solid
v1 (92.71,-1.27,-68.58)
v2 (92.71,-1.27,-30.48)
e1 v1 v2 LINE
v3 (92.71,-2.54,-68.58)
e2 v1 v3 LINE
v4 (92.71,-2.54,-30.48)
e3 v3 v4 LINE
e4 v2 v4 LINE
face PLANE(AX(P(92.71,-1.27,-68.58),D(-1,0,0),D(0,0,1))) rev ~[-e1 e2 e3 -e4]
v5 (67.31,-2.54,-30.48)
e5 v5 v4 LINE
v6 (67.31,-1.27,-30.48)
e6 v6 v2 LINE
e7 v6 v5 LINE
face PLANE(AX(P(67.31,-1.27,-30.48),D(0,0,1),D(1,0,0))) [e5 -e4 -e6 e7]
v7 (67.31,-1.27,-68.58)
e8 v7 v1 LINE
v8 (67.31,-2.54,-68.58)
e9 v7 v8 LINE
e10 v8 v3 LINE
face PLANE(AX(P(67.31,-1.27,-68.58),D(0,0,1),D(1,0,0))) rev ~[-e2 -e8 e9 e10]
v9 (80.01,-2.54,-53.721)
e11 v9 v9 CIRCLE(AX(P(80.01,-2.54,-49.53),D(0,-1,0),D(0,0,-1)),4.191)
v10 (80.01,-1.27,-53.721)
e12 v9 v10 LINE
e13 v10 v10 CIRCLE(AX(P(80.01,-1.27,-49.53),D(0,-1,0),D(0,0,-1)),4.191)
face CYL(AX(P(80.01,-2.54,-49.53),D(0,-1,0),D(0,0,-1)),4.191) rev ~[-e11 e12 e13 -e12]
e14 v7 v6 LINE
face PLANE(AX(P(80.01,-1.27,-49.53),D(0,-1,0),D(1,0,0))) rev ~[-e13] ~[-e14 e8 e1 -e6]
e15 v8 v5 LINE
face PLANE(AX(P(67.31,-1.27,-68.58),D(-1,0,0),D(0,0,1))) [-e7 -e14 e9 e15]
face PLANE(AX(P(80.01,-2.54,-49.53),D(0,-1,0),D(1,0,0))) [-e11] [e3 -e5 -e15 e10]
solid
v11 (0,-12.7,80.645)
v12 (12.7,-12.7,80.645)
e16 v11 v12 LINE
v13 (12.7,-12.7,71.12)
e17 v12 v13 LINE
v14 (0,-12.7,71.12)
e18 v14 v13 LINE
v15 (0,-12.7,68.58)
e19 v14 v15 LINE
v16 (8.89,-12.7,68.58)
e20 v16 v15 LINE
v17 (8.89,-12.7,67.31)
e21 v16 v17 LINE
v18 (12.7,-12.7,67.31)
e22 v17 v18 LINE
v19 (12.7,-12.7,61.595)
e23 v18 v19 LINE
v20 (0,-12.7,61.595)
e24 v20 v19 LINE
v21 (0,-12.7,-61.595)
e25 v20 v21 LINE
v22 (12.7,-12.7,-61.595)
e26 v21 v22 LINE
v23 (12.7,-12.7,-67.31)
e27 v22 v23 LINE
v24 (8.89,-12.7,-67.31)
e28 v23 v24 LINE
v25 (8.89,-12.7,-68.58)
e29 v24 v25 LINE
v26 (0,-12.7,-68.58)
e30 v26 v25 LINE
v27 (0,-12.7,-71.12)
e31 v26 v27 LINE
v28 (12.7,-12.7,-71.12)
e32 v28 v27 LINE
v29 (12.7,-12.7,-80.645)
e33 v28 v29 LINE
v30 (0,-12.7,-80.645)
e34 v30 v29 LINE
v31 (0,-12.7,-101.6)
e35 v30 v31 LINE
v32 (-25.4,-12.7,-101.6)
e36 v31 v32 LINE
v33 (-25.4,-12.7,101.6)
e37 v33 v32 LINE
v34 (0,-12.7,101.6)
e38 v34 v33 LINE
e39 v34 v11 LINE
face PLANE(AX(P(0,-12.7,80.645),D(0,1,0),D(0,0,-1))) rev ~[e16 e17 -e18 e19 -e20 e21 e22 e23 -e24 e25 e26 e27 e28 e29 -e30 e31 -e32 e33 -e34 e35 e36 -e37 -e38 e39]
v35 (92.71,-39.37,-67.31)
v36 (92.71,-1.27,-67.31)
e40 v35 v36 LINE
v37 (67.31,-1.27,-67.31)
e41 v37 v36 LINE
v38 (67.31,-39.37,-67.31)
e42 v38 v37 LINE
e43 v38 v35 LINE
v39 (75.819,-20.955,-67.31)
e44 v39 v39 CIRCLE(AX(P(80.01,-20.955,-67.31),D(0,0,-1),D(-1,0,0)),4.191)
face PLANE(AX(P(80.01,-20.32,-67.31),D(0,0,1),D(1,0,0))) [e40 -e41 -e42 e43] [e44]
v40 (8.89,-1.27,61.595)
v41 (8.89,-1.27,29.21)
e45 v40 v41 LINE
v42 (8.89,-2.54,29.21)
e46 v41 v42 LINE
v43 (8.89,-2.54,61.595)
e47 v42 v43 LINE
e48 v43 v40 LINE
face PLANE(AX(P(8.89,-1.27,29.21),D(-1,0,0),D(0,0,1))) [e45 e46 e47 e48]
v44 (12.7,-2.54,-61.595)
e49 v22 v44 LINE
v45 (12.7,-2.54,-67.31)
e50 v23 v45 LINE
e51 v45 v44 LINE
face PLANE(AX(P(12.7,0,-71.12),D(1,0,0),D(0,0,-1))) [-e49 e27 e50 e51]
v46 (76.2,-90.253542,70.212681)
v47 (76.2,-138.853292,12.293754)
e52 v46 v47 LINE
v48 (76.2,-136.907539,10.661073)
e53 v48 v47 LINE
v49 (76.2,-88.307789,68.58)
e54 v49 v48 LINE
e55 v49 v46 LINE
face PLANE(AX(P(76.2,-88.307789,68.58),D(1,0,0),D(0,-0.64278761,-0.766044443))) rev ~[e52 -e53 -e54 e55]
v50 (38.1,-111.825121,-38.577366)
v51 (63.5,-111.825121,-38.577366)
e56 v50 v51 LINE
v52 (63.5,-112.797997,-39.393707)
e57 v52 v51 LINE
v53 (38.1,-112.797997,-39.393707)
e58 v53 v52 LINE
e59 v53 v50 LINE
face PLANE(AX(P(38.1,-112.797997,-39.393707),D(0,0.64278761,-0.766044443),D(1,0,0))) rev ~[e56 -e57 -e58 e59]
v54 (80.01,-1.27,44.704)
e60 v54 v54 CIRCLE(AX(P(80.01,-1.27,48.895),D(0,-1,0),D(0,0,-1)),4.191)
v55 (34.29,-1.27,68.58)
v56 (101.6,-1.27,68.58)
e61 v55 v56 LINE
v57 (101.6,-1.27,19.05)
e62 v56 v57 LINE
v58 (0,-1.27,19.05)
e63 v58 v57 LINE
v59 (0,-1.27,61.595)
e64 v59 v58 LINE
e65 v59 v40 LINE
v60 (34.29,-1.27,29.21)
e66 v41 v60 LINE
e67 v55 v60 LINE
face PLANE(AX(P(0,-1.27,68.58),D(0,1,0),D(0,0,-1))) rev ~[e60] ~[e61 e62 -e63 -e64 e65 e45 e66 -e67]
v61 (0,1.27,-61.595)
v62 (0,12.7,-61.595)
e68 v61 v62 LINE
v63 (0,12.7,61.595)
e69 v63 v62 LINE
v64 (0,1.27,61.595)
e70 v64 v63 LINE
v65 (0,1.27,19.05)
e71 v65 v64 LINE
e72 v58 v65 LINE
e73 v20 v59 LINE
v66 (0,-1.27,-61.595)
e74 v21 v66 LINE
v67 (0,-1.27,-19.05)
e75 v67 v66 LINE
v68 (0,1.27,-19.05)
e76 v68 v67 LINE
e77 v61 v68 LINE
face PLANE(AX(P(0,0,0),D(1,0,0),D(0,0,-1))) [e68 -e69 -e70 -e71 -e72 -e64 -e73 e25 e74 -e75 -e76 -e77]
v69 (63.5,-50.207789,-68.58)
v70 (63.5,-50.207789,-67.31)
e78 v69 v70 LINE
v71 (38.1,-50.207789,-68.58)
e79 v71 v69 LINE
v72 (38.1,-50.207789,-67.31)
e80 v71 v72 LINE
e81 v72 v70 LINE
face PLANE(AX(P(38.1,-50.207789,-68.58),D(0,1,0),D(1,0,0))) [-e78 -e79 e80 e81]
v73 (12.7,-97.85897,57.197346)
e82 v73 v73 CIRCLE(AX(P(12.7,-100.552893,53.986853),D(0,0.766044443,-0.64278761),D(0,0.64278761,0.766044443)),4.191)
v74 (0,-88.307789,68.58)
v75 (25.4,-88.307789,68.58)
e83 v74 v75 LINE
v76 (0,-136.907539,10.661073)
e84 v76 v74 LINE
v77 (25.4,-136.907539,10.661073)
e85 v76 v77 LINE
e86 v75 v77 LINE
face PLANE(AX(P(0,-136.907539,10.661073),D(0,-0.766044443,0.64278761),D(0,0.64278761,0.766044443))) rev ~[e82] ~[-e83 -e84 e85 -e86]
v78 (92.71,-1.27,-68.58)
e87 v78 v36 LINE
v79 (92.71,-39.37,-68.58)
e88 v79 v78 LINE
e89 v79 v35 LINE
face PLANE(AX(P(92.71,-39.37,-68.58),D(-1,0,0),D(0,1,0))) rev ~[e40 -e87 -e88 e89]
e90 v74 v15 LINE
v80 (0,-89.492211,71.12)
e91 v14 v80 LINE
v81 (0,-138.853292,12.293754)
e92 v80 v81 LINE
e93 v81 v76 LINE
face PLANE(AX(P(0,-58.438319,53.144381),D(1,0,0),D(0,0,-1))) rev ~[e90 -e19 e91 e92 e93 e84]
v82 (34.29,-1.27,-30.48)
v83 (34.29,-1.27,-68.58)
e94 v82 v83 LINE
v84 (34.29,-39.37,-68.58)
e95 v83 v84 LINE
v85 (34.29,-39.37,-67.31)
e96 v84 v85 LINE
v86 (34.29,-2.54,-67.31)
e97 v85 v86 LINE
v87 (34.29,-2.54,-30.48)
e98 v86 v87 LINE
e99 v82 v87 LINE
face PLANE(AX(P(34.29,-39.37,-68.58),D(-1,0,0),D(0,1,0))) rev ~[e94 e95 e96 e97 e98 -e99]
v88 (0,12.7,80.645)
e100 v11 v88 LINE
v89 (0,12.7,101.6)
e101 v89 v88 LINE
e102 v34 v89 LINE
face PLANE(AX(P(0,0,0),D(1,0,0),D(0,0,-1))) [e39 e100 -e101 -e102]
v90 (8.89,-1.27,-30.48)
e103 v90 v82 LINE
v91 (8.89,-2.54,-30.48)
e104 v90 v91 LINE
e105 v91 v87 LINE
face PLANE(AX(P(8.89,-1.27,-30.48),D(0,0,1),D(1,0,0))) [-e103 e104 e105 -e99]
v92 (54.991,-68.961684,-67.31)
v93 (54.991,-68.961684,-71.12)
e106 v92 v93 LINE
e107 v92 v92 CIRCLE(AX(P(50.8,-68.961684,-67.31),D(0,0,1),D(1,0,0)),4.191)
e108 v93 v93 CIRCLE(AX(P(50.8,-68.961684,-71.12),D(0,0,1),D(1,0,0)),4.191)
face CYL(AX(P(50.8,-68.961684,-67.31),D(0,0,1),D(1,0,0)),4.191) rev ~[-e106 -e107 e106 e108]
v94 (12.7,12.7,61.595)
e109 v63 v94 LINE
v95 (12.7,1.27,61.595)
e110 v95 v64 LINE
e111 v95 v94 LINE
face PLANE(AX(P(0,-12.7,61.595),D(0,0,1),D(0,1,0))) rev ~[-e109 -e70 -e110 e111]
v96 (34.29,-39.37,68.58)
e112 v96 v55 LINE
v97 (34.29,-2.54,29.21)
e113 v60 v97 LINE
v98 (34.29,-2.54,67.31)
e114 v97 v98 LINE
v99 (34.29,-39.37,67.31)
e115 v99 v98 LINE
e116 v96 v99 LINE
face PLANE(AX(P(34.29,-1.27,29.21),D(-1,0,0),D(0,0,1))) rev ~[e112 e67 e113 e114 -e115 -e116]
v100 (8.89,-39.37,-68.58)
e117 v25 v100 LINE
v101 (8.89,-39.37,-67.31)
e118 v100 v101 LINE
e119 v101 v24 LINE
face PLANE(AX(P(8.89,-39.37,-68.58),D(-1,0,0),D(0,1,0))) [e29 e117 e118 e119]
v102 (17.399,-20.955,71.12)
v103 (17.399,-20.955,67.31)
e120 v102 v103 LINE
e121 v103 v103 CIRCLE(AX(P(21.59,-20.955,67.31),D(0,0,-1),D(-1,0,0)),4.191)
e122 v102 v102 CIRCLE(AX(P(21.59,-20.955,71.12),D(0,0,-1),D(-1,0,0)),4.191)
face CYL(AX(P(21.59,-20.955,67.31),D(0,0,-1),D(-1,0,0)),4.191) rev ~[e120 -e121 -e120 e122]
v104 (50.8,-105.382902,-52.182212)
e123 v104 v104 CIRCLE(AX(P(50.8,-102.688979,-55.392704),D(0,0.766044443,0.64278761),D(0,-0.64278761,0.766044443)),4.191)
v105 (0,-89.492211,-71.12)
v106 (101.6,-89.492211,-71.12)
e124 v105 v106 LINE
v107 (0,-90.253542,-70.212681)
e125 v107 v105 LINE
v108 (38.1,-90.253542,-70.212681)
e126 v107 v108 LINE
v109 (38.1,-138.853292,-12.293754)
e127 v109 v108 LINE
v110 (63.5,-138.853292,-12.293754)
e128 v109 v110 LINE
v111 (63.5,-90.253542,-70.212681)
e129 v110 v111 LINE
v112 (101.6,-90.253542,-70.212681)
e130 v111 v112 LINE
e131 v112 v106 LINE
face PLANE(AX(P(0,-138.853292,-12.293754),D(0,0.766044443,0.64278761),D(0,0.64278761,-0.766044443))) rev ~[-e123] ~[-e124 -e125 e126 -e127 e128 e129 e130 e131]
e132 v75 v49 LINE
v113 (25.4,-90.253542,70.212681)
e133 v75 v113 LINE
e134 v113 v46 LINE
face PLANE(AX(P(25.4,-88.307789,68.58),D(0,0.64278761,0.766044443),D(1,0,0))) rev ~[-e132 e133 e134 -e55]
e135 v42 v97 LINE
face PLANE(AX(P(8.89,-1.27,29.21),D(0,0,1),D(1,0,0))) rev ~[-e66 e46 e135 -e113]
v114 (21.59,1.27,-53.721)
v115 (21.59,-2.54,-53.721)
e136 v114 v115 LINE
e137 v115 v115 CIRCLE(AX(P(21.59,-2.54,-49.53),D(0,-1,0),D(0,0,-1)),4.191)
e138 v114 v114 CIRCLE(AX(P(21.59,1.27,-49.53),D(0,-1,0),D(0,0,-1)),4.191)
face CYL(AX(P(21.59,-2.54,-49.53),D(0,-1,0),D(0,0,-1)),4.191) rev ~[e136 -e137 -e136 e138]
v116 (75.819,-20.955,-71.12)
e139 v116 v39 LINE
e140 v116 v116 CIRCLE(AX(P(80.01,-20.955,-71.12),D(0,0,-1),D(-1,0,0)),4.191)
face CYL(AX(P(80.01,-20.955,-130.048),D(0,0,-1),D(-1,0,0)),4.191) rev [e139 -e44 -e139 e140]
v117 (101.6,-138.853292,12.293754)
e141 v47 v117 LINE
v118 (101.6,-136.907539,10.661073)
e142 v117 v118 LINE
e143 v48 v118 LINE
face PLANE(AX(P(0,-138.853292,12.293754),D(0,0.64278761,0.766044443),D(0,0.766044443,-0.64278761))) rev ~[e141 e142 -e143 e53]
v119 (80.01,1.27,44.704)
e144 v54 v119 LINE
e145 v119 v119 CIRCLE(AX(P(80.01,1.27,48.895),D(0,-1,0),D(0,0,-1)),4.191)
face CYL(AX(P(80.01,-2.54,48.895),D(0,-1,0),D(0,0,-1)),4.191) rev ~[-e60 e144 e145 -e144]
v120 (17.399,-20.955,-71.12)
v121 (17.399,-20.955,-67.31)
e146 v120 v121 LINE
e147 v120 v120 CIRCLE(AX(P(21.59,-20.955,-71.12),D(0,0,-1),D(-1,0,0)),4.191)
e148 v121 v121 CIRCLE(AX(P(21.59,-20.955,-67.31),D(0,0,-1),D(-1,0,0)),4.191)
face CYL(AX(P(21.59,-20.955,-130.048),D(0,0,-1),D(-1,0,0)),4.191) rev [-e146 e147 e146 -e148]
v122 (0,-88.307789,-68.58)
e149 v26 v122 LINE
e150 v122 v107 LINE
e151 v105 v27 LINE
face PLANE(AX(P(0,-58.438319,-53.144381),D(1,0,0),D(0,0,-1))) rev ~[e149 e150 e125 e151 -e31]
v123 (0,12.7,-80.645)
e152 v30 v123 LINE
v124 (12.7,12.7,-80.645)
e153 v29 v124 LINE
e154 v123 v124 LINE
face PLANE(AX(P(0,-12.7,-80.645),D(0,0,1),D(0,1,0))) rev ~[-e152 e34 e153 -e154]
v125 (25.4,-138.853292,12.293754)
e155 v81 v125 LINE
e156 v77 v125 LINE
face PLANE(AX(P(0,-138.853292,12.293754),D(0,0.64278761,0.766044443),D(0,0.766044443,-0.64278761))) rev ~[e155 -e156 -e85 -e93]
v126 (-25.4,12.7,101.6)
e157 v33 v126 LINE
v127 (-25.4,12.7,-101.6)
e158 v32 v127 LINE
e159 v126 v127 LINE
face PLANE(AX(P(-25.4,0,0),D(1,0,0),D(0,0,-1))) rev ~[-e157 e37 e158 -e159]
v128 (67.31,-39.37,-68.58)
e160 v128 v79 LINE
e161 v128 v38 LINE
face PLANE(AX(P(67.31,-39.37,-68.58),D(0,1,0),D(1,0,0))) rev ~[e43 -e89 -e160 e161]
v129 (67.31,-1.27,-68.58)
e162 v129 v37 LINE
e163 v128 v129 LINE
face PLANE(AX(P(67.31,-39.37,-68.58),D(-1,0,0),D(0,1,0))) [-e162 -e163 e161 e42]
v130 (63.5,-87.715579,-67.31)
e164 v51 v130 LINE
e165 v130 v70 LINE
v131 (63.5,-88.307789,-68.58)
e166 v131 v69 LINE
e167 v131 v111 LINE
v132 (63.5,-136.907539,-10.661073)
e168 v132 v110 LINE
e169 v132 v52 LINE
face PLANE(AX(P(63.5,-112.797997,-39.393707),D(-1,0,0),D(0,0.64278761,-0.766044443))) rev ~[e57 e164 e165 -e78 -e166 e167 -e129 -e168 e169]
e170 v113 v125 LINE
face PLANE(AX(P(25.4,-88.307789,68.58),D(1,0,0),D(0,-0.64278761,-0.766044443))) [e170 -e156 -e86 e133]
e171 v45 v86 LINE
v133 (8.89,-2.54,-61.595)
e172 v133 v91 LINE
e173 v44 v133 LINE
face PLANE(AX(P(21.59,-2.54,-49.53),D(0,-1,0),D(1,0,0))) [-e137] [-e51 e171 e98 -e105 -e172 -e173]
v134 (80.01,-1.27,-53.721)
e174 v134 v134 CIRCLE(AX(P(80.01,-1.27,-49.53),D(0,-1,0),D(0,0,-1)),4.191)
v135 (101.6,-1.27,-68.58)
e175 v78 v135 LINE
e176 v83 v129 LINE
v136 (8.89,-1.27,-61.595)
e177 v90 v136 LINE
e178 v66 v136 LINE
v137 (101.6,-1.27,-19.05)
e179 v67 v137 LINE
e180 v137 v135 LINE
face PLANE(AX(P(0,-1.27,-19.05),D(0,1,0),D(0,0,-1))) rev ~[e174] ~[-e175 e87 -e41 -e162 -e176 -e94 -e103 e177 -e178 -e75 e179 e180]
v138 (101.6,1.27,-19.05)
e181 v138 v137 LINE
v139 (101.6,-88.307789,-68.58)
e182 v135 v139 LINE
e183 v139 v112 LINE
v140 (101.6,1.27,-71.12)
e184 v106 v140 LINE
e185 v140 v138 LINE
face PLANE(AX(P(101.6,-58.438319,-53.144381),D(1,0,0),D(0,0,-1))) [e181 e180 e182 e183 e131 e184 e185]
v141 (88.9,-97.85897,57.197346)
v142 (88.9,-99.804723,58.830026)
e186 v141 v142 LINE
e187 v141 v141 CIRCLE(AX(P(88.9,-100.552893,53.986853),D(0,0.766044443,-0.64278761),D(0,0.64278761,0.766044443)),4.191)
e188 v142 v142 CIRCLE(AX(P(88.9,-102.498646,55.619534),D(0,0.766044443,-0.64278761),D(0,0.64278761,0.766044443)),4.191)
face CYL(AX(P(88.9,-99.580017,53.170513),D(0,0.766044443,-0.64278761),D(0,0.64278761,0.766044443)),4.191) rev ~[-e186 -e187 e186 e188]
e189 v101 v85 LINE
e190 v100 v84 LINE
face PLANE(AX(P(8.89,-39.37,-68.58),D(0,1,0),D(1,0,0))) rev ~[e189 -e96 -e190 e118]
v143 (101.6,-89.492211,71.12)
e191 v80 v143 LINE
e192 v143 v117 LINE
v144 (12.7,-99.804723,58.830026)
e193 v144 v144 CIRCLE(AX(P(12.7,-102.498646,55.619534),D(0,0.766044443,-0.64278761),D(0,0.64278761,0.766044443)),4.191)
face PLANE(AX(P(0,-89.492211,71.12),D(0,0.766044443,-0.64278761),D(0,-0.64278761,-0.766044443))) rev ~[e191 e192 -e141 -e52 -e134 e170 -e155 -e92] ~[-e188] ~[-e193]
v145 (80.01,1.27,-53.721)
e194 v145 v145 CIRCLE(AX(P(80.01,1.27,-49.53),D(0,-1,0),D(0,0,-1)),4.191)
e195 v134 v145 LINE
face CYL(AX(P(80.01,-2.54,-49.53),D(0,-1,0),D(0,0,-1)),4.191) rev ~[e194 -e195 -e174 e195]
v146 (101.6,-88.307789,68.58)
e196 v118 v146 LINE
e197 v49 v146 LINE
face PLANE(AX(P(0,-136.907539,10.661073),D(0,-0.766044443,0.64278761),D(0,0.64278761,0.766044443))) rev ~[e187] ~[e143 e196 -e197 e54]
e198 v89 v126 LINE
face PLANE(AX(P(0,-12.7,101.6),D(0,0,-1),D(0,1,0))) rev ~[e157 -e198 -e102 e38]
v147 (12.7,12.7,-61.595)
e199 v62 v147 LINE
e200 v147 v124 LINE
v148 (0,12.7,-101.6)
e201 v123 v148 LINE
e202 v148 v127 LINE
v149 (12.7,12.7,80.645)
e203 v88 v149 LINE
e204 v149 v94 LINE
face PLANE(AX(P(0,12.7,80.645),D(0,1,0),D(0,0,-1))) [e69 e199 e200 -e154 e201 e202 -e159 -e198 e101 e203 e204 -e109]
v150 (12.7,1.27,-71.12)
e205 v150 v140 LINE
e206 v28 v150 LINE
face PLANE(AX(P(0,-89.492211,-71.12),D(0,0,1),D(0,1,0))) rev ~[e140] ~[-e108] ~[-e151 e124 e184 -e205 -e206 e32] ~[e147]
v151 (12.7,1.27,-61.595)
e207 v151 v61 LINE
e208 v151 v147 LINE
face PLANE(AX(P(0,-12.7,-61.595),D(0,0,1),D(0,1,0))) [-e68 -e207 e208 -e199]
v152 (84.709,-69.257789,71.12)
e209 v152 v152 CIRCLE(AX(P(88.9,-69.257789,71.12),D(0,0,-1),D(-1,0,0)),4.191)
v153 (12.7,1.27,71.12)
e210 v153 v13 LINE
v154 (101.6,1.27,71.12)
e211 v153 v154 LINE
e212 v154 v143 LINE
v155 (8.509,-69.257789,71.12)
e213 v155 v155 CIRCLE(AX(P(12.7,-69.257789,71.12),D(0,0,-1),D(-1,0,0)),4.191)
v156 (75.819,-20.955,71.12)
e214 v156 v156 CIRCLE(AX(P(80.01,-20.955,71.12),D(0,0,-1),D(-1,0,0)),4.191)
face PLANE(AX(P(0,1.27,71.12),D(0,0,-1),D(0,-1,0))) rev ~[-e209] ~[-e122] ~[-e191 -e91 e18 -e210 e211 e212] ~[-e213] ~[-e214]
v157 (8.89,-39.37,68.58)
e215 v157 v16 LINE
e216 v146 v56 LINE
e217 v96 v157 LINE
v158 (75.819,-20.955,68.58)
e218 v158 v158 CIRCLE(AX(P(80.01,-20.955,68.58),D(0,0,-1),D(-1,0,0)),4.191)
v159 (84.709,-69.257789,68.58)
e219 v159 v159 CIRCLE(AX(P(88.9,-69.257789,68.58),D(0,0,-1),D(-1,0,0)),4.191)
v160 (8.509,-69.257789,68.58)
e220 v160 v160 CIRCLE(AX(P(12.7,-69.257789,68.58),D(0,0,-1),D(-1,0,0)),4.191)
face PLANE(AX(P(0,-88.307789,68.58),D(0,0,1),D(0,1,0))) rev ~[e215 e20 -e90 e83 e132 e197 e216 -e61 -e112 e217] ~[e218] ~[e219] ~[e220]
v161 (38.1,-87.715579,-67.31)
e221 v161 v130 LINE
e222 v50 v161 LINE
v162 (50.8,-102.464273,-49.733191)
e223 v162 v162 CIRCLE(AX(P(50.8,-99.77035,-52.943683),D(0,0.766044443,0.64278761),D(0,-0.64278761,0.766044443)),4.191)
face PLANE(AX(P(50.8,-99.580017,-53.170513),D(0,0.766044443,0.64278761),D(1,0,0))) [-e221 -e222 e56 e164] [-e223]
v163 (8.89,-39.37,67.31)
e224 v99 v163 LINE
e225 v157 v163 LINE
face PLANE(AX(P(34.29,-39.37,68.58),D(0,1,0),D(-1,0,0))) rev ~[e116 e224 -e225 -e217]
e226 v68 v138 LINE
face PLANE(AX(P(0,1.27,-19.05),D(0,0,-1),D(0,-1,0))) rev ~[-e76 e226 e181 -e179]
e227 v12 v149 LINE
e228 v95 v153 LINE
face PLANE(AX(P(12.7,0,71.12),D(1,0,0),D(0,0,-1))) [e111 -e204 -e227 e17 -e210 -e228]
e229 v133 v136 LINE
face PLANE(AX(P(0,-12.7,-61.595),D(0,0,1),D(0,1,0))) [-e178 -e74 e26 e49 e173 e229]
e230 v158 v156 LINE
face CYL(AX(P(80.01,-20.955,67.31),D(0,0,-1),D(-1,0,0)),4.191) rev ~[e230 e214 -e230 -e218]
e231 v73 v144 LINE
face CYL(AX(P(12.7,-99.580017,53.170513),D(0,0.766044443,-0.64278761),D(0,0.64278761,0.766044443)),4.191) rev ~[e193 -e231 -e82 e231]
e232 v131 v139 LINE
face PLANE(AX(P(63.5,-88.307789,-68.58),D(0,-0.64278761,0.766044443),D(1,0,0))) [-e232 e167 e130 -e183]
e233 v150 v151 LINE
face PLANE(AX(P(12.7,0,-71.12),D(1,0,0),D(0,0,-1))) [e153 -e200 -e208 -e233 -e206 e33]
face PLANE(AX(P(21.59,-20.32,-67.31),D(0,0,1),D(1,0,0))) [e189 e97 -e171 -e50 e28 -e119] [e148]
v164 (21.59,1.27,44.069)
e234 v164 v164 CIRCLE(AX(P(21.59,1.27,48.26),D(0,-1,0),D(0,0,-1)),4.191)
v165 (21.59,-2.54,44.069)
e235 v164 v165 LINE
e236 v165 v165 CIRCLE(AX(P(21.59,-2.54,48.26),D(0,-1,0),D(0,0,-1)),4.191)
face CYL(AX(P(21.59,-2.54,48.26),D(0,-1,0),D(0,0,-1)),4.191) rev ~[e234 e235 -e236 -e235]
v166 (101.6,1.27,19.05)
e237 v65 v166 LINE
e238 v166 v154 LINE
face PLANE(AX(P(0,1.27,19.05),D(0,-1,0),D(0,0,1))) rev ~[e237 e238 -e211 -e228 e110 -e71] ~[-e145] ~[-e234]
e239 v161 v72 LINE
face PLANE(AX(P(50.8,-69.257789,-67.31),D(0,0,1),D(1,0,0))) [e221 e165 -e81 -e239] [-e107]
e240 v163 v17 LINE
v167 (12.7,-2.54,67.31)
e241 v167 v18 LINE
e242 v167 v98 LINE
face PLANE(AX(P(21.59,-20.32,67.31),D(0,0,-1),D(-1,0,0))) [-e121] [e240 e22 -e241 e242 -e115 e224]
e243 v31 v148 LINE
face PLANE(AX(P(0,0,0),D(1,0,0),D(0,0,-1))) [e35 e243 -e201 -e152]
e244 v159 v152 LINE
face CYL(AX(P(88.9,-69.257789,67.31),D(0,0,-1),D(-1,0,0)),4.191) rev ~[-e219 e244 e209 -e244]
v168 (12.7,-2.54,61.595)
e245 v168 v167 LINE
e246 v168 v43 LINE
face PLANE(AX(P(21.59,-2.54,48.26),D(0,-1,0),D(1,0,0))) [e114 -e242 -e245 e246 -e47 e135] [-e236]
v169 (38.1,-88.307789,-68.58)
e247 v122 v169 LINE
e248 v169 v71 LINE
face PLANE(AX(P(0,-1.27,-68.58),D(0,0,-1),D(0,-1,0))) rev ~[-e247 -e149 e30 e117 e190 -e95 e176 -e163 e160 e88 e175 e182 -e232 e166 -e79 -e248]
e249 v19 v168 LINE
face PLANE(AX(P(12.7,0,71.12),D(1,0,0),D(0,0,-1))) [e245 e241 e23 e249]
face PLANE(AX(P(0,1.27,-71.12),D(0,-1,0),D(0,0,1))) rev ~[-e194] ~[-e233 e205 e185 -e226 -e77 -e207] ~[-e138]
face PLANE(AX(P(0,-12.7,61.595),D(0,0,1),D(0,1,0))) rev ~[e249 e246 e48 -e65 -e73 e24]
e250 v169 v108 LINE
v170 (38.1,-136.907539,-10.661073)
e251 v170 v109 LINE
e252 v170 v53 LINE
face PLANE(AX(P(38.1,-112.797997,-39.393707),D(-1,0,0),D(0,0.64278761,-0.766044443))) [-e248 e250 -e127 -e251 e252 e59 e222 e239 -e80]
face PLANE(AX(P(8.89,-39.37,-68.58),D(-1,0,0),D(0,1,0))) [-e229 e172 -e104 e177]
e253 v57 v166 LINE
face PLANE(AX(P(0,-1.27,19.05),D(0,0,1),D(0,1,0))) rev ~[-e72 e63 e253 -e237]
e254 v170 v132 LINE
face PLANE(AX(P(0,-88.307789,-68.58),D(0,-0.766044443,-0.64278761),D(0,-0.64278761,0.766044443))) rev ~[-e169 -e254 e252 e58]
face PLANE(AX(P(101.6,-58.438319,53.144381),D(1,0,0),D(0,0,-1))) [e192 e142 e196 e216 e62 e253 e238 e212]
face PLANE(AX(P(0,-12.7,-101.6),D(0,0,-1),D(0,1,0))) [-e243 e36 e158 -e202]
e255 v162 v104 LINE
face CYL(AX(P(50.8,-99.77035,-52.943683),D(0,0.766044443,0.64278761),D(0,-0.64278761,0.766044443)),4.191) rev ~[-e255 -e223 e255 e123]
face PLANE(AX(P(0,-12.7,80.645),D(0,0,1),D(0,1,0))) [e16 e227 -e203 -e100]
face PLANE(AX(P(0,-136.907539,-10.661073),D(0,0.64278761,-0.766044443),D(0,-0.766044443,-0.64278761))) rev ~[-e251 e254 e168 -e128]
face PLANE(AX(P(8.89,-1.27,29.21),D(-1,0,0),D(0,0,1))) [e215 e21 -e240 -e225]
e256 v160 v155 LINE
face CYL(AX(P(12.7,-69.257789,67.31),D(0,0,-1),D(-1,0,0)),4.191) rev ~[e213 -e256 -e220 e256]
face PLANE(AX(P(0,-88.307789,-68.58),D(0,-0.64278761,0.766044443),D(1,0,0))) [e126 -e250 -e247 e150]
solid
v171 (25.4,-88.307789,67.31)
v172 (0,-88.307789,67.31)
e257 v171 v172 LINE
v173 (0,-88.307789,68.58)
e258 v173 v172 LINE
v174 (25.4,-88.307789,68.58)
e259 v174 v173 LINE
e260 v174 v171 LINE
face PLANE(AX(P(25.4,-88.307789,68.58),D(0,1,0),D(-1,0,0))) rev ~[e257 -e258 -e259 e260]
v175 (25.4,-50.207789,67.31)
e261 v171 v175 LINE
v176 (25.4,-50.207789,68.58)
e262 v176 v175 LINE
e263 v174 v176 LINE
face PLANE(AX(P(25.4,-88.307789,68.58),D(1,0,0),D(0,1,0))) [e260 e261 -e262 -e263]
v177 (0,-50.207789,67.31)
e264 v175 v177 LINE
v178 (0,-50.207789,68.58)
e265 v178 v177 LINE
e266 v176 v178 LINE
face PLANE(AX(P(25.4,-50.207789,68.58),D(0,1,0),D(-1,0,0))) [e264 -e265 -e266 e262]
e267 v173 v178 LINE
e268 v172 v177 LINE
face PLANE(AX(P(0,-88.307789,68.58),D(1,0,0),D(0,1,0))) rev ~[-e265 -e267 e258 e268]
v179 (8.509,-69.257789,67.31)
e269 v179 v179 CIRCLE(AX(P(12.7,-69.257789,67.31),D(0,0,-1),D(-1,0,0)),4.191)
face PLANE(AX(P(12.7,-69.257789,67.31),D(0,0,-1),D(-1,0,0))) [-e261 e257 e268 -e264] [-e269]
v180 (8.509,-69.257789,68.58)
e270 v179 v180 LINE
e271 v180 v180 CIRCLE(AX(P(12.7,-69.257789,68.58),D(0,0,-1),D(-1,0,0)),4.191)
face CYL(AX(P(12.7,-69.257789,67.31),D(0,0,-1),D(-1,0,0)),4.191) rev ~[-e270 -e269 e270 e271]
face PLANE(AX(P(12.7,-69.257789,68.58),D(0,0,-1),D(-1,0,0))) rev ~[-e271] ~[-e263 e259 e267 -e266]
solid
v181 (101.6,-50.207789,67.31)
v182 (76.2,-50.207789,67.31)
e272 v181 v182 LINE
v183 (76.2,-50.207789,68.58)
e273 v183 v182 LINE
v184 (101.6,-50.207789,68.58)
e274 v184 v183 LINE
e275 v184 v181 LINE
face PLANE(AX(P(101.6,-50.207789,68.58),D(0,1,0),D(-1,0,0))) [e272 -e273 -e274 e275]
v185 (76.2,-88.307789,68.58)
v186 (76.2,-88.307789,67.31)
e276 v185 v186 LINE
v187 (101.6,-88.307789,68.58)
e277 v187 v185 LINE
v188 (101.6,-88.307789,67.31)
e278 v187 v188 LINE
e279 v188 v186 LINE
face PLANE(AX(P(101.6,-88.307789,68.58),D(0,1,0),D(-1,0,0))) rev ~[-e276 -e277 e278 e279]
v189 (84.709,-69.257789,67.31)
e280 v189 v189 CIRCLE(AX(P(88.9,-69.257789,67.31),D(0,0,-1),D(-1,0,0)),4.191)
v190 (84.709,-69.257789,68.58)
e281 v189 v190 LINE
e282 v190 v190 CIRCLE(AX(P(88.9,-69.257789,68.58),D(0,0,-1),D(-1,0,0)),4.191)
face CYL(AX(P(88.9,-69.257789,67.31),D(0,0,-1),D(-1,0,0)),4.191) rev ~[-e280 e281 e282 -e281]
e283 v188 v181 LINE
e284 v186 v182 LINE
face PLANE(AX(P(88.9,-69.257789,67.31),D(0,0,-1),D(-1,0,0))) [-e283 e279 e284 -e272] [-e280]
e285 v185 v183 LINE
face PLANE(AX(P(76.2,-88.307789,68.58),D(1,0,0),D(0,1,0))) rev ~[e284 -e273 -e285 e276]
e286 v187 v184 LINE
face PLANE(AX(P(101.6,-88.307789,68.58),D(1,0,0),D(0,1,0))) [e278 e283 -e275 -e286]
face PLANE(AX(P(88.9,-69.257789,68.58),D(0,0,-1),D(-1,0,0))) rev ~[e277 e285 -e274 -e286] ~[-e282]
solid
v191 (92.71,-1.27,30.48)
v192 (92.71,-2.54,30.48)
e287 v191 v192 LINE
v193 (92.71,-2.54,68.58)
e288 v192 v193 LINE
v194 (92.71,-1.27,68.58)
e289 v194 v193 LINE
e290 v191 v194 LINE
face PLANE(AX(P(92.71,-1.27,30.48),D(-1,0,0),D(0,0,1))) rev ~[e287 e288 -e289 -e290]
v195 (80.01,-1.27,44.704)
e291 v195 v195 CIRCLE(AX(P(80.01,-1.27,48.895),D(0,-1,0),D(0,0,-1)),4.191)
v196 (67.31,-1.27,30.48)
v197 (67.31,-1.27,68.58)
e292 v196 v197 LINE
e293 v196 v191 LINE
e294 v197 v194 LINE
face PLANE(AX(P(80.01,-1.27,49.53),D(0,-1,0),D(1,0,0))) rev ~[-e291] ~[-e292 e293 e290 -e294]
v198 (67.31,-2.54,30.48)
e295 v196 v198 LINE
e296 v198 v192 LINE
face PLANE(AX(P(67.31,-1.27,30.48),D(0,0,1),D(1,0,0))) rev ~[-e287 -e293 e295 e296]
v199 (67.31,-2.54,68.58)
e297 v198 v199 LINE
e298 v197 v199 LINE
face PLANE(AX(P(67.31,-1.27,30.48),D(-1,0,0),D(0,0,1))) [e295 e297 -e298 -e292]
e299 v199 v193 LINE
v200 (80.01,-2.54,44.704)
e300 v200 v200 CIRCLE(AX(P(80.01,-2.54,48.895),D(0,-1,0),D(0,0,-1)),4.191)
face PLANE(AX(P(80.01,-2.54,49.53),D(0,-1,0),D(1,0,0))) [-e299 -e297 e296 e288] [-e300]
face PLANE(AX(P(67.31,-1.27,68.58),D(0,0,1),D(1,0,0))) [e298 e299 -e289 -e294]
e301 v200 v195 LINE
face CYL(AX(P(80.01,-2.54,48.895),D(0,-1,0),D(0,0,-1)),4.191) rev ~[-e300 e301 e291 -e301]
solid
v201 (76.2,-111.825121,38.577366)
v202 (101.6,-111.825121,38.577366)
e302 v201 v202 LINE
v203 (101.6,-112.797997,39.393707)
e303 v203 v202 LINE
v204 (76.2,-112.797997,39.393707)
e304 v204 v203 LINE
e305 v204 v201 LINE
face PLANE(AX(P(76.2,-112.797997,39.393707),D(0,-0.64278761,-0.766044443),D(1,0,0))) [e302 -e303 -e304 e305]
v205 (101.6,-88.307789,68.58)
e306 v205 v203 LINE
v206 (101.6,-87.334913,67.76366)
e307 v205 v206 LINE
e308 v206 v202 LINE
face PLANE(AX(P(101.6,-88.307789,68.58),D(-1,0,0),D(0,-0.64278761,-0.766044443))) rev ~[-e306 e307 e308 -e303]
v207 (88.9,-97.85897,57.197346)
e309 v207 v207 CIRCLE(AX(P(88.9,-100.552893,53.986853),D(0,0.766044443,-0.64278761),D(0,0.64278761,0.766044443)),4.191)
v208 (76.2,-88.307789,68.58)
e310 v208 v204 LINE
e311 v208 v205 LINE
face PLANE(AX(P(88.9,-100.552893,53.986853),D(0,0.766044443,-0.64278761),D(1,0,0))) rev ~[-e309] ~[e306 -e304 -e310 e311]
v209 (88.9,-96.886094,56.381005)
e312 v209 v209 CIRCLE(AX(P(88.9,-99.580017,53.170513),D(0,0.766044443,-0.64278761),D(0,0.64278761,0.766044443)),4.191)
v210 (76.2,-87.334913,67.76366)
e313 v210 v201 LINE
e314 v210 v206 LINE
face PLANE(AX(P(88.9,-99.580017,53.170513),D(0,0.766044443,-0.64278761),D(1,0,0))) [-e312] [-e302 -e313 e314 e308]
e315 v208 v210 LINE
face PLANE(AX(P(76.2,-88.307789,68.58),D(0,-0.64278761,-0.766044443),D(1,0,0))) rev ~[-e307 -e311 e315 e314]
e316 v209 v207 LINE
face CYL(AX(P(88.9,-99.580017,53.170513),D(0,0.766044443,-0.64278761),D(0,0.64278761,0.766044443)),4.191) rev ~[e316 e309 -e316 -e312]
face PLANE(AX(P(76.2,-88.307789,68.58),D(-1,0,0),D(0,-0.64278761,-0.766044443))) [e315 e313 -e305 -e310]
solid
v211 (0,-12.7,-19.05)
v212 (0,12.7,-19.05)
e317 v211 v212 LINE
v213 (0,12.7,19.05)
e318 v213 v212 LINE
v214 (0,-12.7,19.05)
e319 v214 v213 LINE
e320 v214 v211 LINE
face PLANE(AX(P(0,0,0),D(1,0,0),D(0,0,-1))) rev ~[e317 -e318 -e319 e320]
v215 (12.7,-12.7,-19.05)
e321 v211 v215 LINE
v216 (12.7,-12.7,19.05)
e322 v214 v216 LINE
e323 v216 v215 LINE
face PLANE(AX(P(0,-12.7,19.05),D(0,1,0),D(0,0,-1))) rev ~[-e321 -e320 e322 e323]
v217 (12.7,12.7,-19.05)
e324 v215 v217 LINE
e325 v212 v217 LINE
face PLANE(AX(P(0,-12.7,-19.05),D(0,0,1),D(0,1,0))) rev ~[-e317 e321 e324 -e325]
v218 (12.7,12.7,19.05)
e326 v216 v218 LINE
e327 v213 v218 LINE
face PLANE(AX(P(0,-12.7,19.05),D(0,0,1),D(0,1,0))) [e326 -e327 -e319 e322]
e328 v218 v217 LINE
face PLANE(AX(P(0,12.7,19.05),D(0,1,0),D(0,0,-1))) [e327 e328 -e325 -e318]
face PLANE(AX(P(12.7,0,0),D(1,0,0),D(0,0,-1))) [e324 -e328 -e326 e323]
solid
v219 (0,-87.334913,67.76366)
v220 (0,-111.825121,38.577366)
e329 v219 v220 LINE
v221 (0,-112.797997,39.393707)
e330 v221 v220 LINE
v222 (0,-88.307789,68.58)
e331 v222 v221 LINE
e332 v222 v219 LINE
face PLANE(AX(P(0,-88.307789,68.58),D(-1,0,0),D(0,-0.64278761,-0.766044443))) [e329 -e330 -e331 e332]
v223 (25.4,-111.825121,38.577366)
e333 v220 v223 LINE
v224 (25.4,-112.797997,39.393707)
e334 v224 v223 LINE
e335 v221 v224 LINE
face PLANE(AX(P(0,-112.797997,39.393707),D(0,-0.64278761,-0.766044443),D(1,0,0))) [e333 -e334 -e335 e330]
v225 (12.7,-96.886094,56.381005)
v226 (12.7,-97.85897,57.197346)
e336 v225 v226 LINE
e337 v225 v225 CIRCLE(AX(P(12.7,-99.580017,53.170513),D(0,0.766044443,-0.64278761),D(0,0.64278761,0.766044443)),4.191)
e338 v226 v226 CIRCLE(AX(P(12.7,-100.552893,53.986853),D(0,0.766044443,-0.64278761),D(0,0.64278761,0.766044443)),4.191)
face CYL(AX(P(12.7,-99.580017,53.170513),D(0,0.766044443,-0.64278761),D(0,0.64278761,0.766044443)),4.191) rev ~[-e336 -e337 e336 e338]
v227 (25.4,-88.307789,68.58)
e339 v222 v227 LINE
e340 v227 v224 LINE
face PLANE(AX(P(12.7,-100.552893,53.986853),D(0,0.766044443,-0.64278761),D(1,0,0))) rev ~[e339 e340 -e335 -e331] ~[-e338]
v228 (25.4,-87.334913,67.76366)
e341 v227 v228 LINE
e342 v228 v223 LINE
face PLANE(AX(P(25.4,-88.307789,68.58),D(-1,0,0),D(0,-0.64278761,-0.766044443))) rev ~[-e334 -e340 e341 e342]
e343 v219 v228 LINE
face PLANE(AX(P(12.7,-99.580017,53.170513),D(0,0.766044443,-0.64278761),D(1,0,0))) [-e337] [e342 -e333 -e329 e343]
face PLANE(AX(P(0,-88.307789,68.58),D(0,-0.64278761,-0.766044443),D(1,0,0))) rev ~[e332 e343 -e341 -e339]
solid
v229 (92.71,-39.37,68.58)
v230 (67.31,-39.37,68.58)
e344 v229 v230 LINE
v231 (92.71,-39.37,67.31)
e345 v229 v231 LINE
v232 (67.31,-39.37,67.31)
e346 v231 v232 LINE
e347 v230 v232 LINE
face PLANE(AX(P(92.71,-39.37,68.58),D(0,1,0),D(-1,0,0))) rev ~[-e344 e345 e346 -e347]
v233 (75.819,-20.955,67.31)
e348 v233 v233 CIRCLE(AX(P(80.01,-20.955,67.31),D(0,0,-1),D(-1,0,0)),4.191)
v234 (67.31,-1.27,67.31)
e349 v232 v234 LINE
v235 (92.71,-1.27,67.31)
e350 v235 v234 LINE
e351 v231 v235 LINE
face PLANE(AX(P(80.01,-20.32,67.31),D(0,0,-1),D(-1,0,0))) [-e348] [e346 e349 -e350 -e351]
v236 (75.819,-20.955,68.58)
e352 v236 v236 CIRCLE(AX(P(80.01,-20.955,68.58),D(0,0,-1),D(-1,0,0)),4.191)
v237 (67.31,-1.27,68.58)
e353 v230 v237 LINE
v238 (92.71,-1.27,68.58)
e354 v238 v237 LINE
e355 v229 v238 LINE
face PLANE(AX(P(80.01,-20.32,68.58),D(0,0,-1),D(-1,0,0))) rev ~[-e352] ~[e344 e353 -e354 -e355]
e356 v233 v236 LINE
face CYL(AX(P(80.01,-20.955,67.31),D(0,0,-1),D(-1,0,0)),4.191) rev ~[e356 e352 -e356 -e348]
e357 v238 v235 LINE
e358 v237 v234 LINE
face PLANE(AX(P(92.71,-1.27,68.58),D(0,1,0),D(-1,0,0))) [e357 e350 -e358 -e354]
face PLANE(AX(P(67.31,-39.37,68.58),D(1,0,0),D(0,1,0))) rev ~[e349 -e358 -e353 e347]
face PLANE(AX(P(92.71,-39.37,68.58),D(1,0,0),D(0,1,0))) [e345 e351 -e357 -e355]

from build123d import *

# Parameters (mm, degrees)
EXTRUDE_THIN1_DEPTH   = 101.6
EXTRUDE_THIN1_2_DEPTH = 101.6
SKETCH6_W             = 38.1
SKETCH6_H             = 75.607789274
CUT_EXTRUDE2_DEPTH    = 11.684
SKETCH7_W             = 50.8
SKETCH7_H             = 75.607789274
CUT_EXTRUDE3_DEPTH    = 11.684
SKETCH8_W             = 25.4
SKETCH8_H             = 38.1
BOSS_EXTRUDE1_DEPTH   = 1.27
BOSS_EXTRUDE1_2_DEPTH = 1.27
BOSS_EXTRUDE1_3_DEPTH = 1.27
BOSS_EXTRUDE1_4_DEPTH = 1.27
SKETCH10_W            = 25.4
SKETCH10_H            = 38.1
BOSS_EXTRUDE2_DEPTH   = 1.27
BOSS_EXTRUDE2_2_DEPTH = 1.27
SKETCH12_W            = 25.4
SKETCH12_H            = 38.1
BOSS_EXTRUDE3_DEPTH   = 1.27
SKETCH13_W            = 25.4
SKETCH13_H            = 38.1
BOSS_EXTRUDE4_DEPTH   = 1.27
SKETCH14_W            = 25.4
SKETCH14_H            = 38.1
BOSS_EXTRUDE5_DEPTH   = 1.27
BOSS_EXTRUDE5_2_DEPTH = 1.27
BOSS_EXTRUDE5_3_DEPTH = 1.27
BOSS_EXTRUDE5_4_DEPTH = 1.27
SKETCH18_R            = 4.191
CUT_EXTRUDE4_DEPTH    = 34.798
CUT_EXTRUDE5_START    = -201.168
SKETCH20_R            = 4.191
CUT_EXTRUDE5_DEPTH    = 201.168
SKETCH23_R            = 4.191
CUT_EXTRUDE6_DEPTH    = 201.168
SKETCH24_R            = 4.191
CUT_EXTRUDE7_DEPTH    = 201.168
SKETCH25_R            = 4.191
CUT_EXTRUDE8_DEPTH    = 201.168
SKETCH26_R            = 4.191
CUT_EXTRUDE9_DEPTH    = 201.168
SKETCH27_W            = 203.2
SKETCH27_H            = 25.4
BOSS_EXTRUDE6_DEPTH   = 25.4
SKETCH28_W            = 38.1
SKETCH28_H            = 25.4
BOSS_EXTRUDE7_DEPTH   = 12.7
SKETCH29_W            = 19.05
SKETCH29_H            = 25.4
BOSS_EXTRUDE8_DEPTH   = 12.7


with BuildPart() as part:
    # Sketch2 → Extrude-Thin1 (new body)
    with BuildSketch(Plane(origin=(0, 0, 0), x_dir=(0, 0, -1), z_dir=(1, 0, 0))):
        Polygon((-19.05, 1.27), (-71.12, 1.27), (-71.12, -89.492210726), (-12.293753699, -138.853292301), (-10.66107317, -136.907539415), (-68.58, -88.307789274), (-68.58, -1.27), (-19.05, -1.27), align=None)
    extrude(amount=EXTRUDE_THIN1_DEPTH)

    # Sketch7 → Cut-Extrude3 (cut)
    with BuildSketch(Plane(origin=(0, -85.590195828, 71.818701752), x_dir=(1, 0, 0), z_dir=(0, 0.7660444431189803, -0.6427876096865368))):
        with Locations((50.8, 42.031719512)):
            Rectangle(SKETCH7_W, SKETCH7_H)
    extrude(amount=-CUT_EXTRUDE3_DEPTH, mode=Mode.SUBTRACT)


with BuildPart() as body_2:
    # Sketch2 → Extrude-Thin1 2 (new body)
    with BuildSketch(Plane(origin=(0, 0, 0), x_dir=(0, 0, -1), z_dir=(1, 0, 0))):
        Polygon((19.05, -1.27), (68.58, -1.27), (68.58, -88.307789274), (10.66107317, -136.907539415), (12.293753699, -138.853292301), (71.12, -89.492210726), (71.12, 1.27), (19.05, 1.27), align=None)
    extrude(amount=EXTRUDE_THIN1_2_DEPTH)

    # Sketch6 → Cut-Extrude2 (cut)
    with BuildSketch(Plane(origin=(0, -85.590195828, -71.818701752), x_dir=(1, 0, 0), z_dir=(0, 0.7660444431189795, 0.6427876096865376))):
        with Locations((82.55, -42.031719512)):
            Rectangle(SKETCH6_W, SKETCH6_H)
        with Locations((19.05, -42.031719512)):
            Rectangle(SKETCH6_W, SKETCH6_H)
    extrude(amount=-CUT_EXTRUDE2_DEPTH, mode=Mode.SUBTRACT)



with BuildPart() as body_3:
    # Sketch8 → Boss-Extrude1 (new body)
    with BuildSketch(Plane(origin=(0, 0, 68.58), x_dir=(-1, 0, 0), z_dir=(0, 0, -1))):
        with Locations((-88.9, -69.257789274)):
            Rectangle(SKETCH8_W, SKETCH8_H)
    extrude(amount=BOSS_EXTRUDE1_DEPTH)


with BuildPart() as body_4:
    # Sketch8 → Boss-Extrude1 2 (new body)
    with BuildSketch(Plane(origin=(0, 0, 68.58), x_dir=(-1, 0, 0), z_dir=(0, 0, -1))):
        with Locations((-12.7, -69.257789274)):
            Rectangle(SKETCH8_W, SKETCH8_H)
    extrude(amount=BOSS_EXTRUDE1_2_DEPTH)


with BuildPart() as body_5:
    # Sketch8 → Boss-Extrude1 3 (new body)
    with BuildSketch(Plane(origin=(0, 0, 68.58), x_dir=(-1, 0, 0), z_dir=(0, 0, -1))):
        with Locations((-80.01, -20.32)):
            Rectangle(SKETCH8_W, SKETCH8_H)
    extrude(amount=BOSS_EXTRUDE1_3_DEPTH)


with BuildPart() as body_6:
    # Sketch8 → Boss-Extrude1 4 (new body)
    with BuildSketch(Plane(origin=(0, 0, 68.58), x_dir=(-1, 0, 0), z_dir=(0, 0, -1))):
        with Locations((-21.59, -20.32)):
            Rectangle(SKETCH8_W, SKETCH8_H)
    extrude(amount=BOSS_EXTRUDE1_4_DEPTH)


with BuildPart() as body_7:
    # Sketch10 → Boss-Extrude2 (new body)
    with BuildSketch(Plane(origin=(0, -85.590195828, 71.818701752), x_dir=(1, 0, 0), z_dir=(0, 0.7660444431189803, -0.6427876096865368))):
        with Locations((88.9, 23.277824875)):
            Rectangle(SKETCH10_W, SKETCH10_H)
    extrude(amount=BOSS_EXTRUDE2_DEPTH)


with BuildPart() as body_8:
    # Sketch10 → Boss-Extrude2 2 (new body)
    with BuildSketch(Plane(origin=(0, -85.590195828, 71.818701752), x_dir=(1, 0, 0), z_dir=(0, 0.7660444431189803, -0.6427876096865368))):
        with Locations((12.7, 23.277824875)):
            Rectangle(SKETCH10_W, SKETCH10_H)
    extrude(amount=BOSS_EXTRUDE2_2_DEPTH)


with BuildPart() as body_9:
    # Sketch12 → Boss-Extrude3 (new body)
    with BuildSketch(Plane(origin=(0, -85.590195828, -71.818701752), x_dir=(1, 0, 0), z_dir=(0, 0.7660444431189795, 0.6427876096865376))):
        with Locations((50.8, -23.277824875)):
            Rectangle(SKETCH12_W, SKETCH12_H)
    extrude(amount=BOSS_EXTRUDE3_DEPTH)


with BuildPart() as body_2_1:
    add(body_2.part)

    add(body_9.part)  # Boss-Extrude4 merges body 9
    # Sketch13 → Boss-Extrude4 (add)
    with BuildSketch(Plane.XY.offset(-68.58)):
        with Locations((50.8, -69.257789274)):
            Rectangle(SKETCH13_W, SKETCH13_H)
        with Locations((80.01, -20.32)):
            Rectangle(SKETCH13_W, SKETCH13_H)
        with Locations((21.59, -20.32)):
            Rectangle(SKETCH13_W, SKETCH13_H)
    extrude(amount=BOSS_EXTRUDE4_DEPTH)

    # Sketch20 → Cut-Extrude5 (cut)
    with BuildSketch(Plane.XY.offset(71.12).offset(CUT_EXTRUDE5_START)):
        with Locations(Location((21.59, -20.955, 0), (0, 0, 180))):
            Circle(SKETCH20_R)
        with Locations(Location((80.01, -20.955, 0), (0, 0, 180))):
            Circle(SKETCH20_R)
    extrude(amount=CUT_EXTRUDE5_DEPTH, mode=Mode.SUBTRACT)


with BuildPart() as body_9_2:
    # Sketch14 → Boss-Extrude5 (new body)
    with BuildSketch(Plane.XZ.offset(1.27)):
        with Locations((21.59, 48.26)):
            Rectangle(SKETCH14_W, SKETCH14_H)
    extrude(amount=BOSS_EXTRUDE5_DEPTH)


with BuildPart() as body_10:
    # Sketch14 → Boss-Extrude5 2 (new body)
    with BuildSketch(Plane.XZ.offset(1.27)):
        with Locations((80.01, 49.53)):
            Rectangle(SKETCH14_W, SKETCH14_H)
    extrude(amount=BOSS_EXTRUDE5_2_DEPTH)


with BuildPart() as body_11:
    # Sketch14 → Boss-Extrude5 3 (new body)
    with BuildSketch(Plane.XZ.offset(1.27)):
        with Locations((80.01, -49.53)):
            Rectangle(SKETCH14_W, SKETCH14_H)
    extrude(amount=BOSS_EXTRUDE5_3_DEPTH)


with BuildPart() as body_12:
    # Sketch14 → Boss-Extrude5 4 (new body)
    with BuildSketch(Plane.XZ.offset(1.27)):
        with Locations((21.59, -49.53)):
            Rectangle(SKETCH14_W, SKETCH14_H)
    extrude(amount=BOSS_EXTRUDE5_4_DEPTH)


with BuildPart() as cut_extrude4_tool:
    # Sketch18 → Cut-Extrude4 (new body)
    with BuildSketch(Plane(origin=(0, 0, 67.31), x_dir=(-1, 0, 0), z_dir=(0, 0, -1))):
        with Locations((-80.01, -20.955)):
            Circle(SKETCH18_R)
        with Locations((-21.59, -20.955)):
            Circle(SKETCH18_R)
        with Locations((-12.7, -69.257789274)):
            Circle(SKETCH18_R)
        with Locations((-88.9, -69.257789274)):
            Circle(SKETCH18_R)
    extrude(amount=-CUT_EXTRUDE4_DEPTH)


with BuildPart() as part_1:
    add(part.part)

    # Cut-Extrude4: cut by cut_extrude4_tool
    add(cut_extrude4_tool.part, mode=Mode.SUBTRACT)


with BuildPart() as body_3_1:
    add(body_3.part)

    # Cut-Extrude4: cut by cut_extrude4_tool
    add(cut_extrude4_tool.part, mode=Mode.SUBTRACT)


with BuildPart() as body_4_1:
    add(body_4.part)

    # Cut-Extrude4: cut by cut_extrude4_tool
    add(cut_extrude4_tool.part, mode=Mode.SUBTRACT)


with BuildPart() as body_5_1:
    add(body_5.part)

    # Cut-Extrude4: cut by cut_extrude4_tool
    add(cut_extrude4_tool.part, mode=Mode.SUBTRACT)


with BuildPart() as body_6_1:
    add(body_6.part)

    # Cut-Extrude4: cut by cut_extrude4_tool
    add(cut_extrude4_tool.part, mode=Mode.SUBTRACT)


with BuildPart() as cut_extrude6_tool:
    # Sketch23 → Cut-Extrude6 (new body)
    with BuildSketch(Plane.XZ.offset(2.54)):
        with Locations(Location((80.01, -49.53, 0), (0, 0, 270))):
            Circle(SKETCH23_R)
        with Locations(Location((21.59, -49.53, 0), (0, 0, 270))):
            Circle(SKETCH23_R)
        with Locations(Location((80.01, 48.895, 0), (0, 0, 270))):
            Circle(SKETCH23_R)
        with Locations(Location((21.59, 48.26, 0), (0, 0, 270))):
            Circle(SKETCH23_R)
    extrude(amount=-CUT_EXTRUDE6_DEPTH)


with BuildPart() as part_2:
    add(part_1.part)

    # Cut-Extrude6: cut by cut_extrude6_tool
    add(cut_extrude6_tool.part, mode=Mode.SUBTRACT)


with BuildPart() as body_2_2:
    add(body_2_1.part)

    # Cut-Extrude6: cut by cut_extrude6_tool
    add(cut_extrude6_tool.part, mode=Mode.SUBTRACT)

    # Sketch24 → Cut-Extrude7 (cut)
    with BuildSketch(Plane.XY.offset(-67.31)):
        with Locations((50.8, -68.961683911)):
            Circle(SKETCH24_R)
    extrude(amount=-CUT_EXTRUDE7_DEPTH, mode=Mode.SUBTRACT)

    # Sketch26 → Cut-Extrude9 (cut)
    with BuildSketch(Plane(origin=(0, -84.617319386, -71.002361488), x_dir=(1, 0, 0), z_dir=(0, 0.7660444431189795, 0.6427876096865376))):
        with Locations(Location((50.8, -23.573930238, 0), (0, 0, 270))):
            Circle(SKETCH26_R)
    extrude(amount=-CUT_EXTRUDE9_DEPTH, mode=Mode.SUBTRACT)


with BuildPart() as body_9_2_1:
    add(body_9_2.part)

    # Cut-Extrude6: cut by cut_extrude6_tool
    add(cut_extrude6_tool.part, mode=Mode.SUBTRACT)


with BuildPart() as body_10_1:
    add(body_10.part)

    # Cut-Extrude6: cut by cut_extrude6_tool
    add(cut_extrude6_tool.part, mode=Mode.SUBTRACT)


with BuildPart() as body_11_1:
    add(body_11.part)

    # Cut-Extrude6: cut by cut_extrude6_tool
    add(cut_extrude6_tool.part, mode=Mode.SUBTRACT)


with BuildPart() as body_12_1:
    add(body_12.part)

    # Cut-Extrude6: cut by cut_extrude6_tool
    add(cut_extrude6_tool.part, mode=Mode.SUBTRACT)


with BuildPart() as cut_extrude8_tool:
    # Sketch25 → Cut-Extrude8 (new body)
    with BuildSketch(Plane(origin=(0, -84.617319386, 71.002361488), x_dir=(1, 0, 0), z_dir=(0, 0.7660444431189802, -0.6427876096865367))):
        with Locations(Location((12.7, 23.277824875, 0), (0, 0, 270))):
            Circle(SKETCH25_R)
        with Locations(Location((88.9, 23.277824875, 0), (0, 0, 270))):
            Circle(SKETCH25_R)
    extrude(amount=-CUT_EXTRUDE8_DEPTH)


with BuildPart() as part_3:
    add(part_2.part)

    # Cut-Extrude8: cut by cut_extrude8_tool
    add(cut_extrude8_tool.part, mode=Mode.SUBTRACT)


    add(body_2_2.part)  # Boss-Extrude6 merges body 2
    # Sketch27 → Boss-Extrude6 (add)
    with BuildSketch(Plane(origin=(0, 0, 0), x_dir=(0, 0, -1), z_dir=(1, 0, 0))):
        Rectangle(SKETCH27_W, SKETCH27_H)
    extrude(amount=-BOSS_EXTRUDE6_DEPTH)


    add(body_6_1.part)  # Boss-Extrude8 merges body 6

    add(body_9_2_1.part)  # Boss-Extrude8 merges body 9 2

    add(body_12_1.part)  # Boss-Extrude8 merges body 12
    # Sketch29 → Boss-Extrude8 (add)
    with BuildSketch(Plane(origin=(0, 0, 0), x_dir=(0, 0, -1), z_dir=(1, 0, 0))):
        with Locations((-71.12, 0)):
            Rectangle(SKETCH29_W, SKETCH29_H)
        with Locations((71.12, 0)):
            Rectangle(SKETCH29_W, SKETCH29_H)
    extrude(amount=BOSS_EXTRUDE8_DEPTH)


with BuildPart() as body_7_1:
    add(body_7.part)

    # Cut-Extrude8: cut by cut_extrude8_tool
    add(cut_extrude8_tool.part, mode=Mode.SUBTRACT)


with BuildPart() as body_8_1:
    add(body_8.part)

    # Cut-Extrude8: cut by cut_extrude8_tool
    add(cut_extrude8_tool.part, mode=Mode.SUBTRACT)


with BuildPart() as body_12_2:
    # Sketch28 → Boss-Extrude7 (new body)
    with BuildSketch(Plane(origin=(0, 0, 0), x_dir=(0, 0, -1), z_dir=(1, 0, 0))):
        Rectangle(SKETCH28_W, SKETCH28_H)
    extrude(amount=BOSS_EXTRUDE7_DEPTH)


solid = Compound([body_3_1.part, body_4_1.part, body_5_1.part, body_10_1.part, body_11_1.part, part_3.part, body_7_1.part, body_8_1.part, body_12_2.part])
